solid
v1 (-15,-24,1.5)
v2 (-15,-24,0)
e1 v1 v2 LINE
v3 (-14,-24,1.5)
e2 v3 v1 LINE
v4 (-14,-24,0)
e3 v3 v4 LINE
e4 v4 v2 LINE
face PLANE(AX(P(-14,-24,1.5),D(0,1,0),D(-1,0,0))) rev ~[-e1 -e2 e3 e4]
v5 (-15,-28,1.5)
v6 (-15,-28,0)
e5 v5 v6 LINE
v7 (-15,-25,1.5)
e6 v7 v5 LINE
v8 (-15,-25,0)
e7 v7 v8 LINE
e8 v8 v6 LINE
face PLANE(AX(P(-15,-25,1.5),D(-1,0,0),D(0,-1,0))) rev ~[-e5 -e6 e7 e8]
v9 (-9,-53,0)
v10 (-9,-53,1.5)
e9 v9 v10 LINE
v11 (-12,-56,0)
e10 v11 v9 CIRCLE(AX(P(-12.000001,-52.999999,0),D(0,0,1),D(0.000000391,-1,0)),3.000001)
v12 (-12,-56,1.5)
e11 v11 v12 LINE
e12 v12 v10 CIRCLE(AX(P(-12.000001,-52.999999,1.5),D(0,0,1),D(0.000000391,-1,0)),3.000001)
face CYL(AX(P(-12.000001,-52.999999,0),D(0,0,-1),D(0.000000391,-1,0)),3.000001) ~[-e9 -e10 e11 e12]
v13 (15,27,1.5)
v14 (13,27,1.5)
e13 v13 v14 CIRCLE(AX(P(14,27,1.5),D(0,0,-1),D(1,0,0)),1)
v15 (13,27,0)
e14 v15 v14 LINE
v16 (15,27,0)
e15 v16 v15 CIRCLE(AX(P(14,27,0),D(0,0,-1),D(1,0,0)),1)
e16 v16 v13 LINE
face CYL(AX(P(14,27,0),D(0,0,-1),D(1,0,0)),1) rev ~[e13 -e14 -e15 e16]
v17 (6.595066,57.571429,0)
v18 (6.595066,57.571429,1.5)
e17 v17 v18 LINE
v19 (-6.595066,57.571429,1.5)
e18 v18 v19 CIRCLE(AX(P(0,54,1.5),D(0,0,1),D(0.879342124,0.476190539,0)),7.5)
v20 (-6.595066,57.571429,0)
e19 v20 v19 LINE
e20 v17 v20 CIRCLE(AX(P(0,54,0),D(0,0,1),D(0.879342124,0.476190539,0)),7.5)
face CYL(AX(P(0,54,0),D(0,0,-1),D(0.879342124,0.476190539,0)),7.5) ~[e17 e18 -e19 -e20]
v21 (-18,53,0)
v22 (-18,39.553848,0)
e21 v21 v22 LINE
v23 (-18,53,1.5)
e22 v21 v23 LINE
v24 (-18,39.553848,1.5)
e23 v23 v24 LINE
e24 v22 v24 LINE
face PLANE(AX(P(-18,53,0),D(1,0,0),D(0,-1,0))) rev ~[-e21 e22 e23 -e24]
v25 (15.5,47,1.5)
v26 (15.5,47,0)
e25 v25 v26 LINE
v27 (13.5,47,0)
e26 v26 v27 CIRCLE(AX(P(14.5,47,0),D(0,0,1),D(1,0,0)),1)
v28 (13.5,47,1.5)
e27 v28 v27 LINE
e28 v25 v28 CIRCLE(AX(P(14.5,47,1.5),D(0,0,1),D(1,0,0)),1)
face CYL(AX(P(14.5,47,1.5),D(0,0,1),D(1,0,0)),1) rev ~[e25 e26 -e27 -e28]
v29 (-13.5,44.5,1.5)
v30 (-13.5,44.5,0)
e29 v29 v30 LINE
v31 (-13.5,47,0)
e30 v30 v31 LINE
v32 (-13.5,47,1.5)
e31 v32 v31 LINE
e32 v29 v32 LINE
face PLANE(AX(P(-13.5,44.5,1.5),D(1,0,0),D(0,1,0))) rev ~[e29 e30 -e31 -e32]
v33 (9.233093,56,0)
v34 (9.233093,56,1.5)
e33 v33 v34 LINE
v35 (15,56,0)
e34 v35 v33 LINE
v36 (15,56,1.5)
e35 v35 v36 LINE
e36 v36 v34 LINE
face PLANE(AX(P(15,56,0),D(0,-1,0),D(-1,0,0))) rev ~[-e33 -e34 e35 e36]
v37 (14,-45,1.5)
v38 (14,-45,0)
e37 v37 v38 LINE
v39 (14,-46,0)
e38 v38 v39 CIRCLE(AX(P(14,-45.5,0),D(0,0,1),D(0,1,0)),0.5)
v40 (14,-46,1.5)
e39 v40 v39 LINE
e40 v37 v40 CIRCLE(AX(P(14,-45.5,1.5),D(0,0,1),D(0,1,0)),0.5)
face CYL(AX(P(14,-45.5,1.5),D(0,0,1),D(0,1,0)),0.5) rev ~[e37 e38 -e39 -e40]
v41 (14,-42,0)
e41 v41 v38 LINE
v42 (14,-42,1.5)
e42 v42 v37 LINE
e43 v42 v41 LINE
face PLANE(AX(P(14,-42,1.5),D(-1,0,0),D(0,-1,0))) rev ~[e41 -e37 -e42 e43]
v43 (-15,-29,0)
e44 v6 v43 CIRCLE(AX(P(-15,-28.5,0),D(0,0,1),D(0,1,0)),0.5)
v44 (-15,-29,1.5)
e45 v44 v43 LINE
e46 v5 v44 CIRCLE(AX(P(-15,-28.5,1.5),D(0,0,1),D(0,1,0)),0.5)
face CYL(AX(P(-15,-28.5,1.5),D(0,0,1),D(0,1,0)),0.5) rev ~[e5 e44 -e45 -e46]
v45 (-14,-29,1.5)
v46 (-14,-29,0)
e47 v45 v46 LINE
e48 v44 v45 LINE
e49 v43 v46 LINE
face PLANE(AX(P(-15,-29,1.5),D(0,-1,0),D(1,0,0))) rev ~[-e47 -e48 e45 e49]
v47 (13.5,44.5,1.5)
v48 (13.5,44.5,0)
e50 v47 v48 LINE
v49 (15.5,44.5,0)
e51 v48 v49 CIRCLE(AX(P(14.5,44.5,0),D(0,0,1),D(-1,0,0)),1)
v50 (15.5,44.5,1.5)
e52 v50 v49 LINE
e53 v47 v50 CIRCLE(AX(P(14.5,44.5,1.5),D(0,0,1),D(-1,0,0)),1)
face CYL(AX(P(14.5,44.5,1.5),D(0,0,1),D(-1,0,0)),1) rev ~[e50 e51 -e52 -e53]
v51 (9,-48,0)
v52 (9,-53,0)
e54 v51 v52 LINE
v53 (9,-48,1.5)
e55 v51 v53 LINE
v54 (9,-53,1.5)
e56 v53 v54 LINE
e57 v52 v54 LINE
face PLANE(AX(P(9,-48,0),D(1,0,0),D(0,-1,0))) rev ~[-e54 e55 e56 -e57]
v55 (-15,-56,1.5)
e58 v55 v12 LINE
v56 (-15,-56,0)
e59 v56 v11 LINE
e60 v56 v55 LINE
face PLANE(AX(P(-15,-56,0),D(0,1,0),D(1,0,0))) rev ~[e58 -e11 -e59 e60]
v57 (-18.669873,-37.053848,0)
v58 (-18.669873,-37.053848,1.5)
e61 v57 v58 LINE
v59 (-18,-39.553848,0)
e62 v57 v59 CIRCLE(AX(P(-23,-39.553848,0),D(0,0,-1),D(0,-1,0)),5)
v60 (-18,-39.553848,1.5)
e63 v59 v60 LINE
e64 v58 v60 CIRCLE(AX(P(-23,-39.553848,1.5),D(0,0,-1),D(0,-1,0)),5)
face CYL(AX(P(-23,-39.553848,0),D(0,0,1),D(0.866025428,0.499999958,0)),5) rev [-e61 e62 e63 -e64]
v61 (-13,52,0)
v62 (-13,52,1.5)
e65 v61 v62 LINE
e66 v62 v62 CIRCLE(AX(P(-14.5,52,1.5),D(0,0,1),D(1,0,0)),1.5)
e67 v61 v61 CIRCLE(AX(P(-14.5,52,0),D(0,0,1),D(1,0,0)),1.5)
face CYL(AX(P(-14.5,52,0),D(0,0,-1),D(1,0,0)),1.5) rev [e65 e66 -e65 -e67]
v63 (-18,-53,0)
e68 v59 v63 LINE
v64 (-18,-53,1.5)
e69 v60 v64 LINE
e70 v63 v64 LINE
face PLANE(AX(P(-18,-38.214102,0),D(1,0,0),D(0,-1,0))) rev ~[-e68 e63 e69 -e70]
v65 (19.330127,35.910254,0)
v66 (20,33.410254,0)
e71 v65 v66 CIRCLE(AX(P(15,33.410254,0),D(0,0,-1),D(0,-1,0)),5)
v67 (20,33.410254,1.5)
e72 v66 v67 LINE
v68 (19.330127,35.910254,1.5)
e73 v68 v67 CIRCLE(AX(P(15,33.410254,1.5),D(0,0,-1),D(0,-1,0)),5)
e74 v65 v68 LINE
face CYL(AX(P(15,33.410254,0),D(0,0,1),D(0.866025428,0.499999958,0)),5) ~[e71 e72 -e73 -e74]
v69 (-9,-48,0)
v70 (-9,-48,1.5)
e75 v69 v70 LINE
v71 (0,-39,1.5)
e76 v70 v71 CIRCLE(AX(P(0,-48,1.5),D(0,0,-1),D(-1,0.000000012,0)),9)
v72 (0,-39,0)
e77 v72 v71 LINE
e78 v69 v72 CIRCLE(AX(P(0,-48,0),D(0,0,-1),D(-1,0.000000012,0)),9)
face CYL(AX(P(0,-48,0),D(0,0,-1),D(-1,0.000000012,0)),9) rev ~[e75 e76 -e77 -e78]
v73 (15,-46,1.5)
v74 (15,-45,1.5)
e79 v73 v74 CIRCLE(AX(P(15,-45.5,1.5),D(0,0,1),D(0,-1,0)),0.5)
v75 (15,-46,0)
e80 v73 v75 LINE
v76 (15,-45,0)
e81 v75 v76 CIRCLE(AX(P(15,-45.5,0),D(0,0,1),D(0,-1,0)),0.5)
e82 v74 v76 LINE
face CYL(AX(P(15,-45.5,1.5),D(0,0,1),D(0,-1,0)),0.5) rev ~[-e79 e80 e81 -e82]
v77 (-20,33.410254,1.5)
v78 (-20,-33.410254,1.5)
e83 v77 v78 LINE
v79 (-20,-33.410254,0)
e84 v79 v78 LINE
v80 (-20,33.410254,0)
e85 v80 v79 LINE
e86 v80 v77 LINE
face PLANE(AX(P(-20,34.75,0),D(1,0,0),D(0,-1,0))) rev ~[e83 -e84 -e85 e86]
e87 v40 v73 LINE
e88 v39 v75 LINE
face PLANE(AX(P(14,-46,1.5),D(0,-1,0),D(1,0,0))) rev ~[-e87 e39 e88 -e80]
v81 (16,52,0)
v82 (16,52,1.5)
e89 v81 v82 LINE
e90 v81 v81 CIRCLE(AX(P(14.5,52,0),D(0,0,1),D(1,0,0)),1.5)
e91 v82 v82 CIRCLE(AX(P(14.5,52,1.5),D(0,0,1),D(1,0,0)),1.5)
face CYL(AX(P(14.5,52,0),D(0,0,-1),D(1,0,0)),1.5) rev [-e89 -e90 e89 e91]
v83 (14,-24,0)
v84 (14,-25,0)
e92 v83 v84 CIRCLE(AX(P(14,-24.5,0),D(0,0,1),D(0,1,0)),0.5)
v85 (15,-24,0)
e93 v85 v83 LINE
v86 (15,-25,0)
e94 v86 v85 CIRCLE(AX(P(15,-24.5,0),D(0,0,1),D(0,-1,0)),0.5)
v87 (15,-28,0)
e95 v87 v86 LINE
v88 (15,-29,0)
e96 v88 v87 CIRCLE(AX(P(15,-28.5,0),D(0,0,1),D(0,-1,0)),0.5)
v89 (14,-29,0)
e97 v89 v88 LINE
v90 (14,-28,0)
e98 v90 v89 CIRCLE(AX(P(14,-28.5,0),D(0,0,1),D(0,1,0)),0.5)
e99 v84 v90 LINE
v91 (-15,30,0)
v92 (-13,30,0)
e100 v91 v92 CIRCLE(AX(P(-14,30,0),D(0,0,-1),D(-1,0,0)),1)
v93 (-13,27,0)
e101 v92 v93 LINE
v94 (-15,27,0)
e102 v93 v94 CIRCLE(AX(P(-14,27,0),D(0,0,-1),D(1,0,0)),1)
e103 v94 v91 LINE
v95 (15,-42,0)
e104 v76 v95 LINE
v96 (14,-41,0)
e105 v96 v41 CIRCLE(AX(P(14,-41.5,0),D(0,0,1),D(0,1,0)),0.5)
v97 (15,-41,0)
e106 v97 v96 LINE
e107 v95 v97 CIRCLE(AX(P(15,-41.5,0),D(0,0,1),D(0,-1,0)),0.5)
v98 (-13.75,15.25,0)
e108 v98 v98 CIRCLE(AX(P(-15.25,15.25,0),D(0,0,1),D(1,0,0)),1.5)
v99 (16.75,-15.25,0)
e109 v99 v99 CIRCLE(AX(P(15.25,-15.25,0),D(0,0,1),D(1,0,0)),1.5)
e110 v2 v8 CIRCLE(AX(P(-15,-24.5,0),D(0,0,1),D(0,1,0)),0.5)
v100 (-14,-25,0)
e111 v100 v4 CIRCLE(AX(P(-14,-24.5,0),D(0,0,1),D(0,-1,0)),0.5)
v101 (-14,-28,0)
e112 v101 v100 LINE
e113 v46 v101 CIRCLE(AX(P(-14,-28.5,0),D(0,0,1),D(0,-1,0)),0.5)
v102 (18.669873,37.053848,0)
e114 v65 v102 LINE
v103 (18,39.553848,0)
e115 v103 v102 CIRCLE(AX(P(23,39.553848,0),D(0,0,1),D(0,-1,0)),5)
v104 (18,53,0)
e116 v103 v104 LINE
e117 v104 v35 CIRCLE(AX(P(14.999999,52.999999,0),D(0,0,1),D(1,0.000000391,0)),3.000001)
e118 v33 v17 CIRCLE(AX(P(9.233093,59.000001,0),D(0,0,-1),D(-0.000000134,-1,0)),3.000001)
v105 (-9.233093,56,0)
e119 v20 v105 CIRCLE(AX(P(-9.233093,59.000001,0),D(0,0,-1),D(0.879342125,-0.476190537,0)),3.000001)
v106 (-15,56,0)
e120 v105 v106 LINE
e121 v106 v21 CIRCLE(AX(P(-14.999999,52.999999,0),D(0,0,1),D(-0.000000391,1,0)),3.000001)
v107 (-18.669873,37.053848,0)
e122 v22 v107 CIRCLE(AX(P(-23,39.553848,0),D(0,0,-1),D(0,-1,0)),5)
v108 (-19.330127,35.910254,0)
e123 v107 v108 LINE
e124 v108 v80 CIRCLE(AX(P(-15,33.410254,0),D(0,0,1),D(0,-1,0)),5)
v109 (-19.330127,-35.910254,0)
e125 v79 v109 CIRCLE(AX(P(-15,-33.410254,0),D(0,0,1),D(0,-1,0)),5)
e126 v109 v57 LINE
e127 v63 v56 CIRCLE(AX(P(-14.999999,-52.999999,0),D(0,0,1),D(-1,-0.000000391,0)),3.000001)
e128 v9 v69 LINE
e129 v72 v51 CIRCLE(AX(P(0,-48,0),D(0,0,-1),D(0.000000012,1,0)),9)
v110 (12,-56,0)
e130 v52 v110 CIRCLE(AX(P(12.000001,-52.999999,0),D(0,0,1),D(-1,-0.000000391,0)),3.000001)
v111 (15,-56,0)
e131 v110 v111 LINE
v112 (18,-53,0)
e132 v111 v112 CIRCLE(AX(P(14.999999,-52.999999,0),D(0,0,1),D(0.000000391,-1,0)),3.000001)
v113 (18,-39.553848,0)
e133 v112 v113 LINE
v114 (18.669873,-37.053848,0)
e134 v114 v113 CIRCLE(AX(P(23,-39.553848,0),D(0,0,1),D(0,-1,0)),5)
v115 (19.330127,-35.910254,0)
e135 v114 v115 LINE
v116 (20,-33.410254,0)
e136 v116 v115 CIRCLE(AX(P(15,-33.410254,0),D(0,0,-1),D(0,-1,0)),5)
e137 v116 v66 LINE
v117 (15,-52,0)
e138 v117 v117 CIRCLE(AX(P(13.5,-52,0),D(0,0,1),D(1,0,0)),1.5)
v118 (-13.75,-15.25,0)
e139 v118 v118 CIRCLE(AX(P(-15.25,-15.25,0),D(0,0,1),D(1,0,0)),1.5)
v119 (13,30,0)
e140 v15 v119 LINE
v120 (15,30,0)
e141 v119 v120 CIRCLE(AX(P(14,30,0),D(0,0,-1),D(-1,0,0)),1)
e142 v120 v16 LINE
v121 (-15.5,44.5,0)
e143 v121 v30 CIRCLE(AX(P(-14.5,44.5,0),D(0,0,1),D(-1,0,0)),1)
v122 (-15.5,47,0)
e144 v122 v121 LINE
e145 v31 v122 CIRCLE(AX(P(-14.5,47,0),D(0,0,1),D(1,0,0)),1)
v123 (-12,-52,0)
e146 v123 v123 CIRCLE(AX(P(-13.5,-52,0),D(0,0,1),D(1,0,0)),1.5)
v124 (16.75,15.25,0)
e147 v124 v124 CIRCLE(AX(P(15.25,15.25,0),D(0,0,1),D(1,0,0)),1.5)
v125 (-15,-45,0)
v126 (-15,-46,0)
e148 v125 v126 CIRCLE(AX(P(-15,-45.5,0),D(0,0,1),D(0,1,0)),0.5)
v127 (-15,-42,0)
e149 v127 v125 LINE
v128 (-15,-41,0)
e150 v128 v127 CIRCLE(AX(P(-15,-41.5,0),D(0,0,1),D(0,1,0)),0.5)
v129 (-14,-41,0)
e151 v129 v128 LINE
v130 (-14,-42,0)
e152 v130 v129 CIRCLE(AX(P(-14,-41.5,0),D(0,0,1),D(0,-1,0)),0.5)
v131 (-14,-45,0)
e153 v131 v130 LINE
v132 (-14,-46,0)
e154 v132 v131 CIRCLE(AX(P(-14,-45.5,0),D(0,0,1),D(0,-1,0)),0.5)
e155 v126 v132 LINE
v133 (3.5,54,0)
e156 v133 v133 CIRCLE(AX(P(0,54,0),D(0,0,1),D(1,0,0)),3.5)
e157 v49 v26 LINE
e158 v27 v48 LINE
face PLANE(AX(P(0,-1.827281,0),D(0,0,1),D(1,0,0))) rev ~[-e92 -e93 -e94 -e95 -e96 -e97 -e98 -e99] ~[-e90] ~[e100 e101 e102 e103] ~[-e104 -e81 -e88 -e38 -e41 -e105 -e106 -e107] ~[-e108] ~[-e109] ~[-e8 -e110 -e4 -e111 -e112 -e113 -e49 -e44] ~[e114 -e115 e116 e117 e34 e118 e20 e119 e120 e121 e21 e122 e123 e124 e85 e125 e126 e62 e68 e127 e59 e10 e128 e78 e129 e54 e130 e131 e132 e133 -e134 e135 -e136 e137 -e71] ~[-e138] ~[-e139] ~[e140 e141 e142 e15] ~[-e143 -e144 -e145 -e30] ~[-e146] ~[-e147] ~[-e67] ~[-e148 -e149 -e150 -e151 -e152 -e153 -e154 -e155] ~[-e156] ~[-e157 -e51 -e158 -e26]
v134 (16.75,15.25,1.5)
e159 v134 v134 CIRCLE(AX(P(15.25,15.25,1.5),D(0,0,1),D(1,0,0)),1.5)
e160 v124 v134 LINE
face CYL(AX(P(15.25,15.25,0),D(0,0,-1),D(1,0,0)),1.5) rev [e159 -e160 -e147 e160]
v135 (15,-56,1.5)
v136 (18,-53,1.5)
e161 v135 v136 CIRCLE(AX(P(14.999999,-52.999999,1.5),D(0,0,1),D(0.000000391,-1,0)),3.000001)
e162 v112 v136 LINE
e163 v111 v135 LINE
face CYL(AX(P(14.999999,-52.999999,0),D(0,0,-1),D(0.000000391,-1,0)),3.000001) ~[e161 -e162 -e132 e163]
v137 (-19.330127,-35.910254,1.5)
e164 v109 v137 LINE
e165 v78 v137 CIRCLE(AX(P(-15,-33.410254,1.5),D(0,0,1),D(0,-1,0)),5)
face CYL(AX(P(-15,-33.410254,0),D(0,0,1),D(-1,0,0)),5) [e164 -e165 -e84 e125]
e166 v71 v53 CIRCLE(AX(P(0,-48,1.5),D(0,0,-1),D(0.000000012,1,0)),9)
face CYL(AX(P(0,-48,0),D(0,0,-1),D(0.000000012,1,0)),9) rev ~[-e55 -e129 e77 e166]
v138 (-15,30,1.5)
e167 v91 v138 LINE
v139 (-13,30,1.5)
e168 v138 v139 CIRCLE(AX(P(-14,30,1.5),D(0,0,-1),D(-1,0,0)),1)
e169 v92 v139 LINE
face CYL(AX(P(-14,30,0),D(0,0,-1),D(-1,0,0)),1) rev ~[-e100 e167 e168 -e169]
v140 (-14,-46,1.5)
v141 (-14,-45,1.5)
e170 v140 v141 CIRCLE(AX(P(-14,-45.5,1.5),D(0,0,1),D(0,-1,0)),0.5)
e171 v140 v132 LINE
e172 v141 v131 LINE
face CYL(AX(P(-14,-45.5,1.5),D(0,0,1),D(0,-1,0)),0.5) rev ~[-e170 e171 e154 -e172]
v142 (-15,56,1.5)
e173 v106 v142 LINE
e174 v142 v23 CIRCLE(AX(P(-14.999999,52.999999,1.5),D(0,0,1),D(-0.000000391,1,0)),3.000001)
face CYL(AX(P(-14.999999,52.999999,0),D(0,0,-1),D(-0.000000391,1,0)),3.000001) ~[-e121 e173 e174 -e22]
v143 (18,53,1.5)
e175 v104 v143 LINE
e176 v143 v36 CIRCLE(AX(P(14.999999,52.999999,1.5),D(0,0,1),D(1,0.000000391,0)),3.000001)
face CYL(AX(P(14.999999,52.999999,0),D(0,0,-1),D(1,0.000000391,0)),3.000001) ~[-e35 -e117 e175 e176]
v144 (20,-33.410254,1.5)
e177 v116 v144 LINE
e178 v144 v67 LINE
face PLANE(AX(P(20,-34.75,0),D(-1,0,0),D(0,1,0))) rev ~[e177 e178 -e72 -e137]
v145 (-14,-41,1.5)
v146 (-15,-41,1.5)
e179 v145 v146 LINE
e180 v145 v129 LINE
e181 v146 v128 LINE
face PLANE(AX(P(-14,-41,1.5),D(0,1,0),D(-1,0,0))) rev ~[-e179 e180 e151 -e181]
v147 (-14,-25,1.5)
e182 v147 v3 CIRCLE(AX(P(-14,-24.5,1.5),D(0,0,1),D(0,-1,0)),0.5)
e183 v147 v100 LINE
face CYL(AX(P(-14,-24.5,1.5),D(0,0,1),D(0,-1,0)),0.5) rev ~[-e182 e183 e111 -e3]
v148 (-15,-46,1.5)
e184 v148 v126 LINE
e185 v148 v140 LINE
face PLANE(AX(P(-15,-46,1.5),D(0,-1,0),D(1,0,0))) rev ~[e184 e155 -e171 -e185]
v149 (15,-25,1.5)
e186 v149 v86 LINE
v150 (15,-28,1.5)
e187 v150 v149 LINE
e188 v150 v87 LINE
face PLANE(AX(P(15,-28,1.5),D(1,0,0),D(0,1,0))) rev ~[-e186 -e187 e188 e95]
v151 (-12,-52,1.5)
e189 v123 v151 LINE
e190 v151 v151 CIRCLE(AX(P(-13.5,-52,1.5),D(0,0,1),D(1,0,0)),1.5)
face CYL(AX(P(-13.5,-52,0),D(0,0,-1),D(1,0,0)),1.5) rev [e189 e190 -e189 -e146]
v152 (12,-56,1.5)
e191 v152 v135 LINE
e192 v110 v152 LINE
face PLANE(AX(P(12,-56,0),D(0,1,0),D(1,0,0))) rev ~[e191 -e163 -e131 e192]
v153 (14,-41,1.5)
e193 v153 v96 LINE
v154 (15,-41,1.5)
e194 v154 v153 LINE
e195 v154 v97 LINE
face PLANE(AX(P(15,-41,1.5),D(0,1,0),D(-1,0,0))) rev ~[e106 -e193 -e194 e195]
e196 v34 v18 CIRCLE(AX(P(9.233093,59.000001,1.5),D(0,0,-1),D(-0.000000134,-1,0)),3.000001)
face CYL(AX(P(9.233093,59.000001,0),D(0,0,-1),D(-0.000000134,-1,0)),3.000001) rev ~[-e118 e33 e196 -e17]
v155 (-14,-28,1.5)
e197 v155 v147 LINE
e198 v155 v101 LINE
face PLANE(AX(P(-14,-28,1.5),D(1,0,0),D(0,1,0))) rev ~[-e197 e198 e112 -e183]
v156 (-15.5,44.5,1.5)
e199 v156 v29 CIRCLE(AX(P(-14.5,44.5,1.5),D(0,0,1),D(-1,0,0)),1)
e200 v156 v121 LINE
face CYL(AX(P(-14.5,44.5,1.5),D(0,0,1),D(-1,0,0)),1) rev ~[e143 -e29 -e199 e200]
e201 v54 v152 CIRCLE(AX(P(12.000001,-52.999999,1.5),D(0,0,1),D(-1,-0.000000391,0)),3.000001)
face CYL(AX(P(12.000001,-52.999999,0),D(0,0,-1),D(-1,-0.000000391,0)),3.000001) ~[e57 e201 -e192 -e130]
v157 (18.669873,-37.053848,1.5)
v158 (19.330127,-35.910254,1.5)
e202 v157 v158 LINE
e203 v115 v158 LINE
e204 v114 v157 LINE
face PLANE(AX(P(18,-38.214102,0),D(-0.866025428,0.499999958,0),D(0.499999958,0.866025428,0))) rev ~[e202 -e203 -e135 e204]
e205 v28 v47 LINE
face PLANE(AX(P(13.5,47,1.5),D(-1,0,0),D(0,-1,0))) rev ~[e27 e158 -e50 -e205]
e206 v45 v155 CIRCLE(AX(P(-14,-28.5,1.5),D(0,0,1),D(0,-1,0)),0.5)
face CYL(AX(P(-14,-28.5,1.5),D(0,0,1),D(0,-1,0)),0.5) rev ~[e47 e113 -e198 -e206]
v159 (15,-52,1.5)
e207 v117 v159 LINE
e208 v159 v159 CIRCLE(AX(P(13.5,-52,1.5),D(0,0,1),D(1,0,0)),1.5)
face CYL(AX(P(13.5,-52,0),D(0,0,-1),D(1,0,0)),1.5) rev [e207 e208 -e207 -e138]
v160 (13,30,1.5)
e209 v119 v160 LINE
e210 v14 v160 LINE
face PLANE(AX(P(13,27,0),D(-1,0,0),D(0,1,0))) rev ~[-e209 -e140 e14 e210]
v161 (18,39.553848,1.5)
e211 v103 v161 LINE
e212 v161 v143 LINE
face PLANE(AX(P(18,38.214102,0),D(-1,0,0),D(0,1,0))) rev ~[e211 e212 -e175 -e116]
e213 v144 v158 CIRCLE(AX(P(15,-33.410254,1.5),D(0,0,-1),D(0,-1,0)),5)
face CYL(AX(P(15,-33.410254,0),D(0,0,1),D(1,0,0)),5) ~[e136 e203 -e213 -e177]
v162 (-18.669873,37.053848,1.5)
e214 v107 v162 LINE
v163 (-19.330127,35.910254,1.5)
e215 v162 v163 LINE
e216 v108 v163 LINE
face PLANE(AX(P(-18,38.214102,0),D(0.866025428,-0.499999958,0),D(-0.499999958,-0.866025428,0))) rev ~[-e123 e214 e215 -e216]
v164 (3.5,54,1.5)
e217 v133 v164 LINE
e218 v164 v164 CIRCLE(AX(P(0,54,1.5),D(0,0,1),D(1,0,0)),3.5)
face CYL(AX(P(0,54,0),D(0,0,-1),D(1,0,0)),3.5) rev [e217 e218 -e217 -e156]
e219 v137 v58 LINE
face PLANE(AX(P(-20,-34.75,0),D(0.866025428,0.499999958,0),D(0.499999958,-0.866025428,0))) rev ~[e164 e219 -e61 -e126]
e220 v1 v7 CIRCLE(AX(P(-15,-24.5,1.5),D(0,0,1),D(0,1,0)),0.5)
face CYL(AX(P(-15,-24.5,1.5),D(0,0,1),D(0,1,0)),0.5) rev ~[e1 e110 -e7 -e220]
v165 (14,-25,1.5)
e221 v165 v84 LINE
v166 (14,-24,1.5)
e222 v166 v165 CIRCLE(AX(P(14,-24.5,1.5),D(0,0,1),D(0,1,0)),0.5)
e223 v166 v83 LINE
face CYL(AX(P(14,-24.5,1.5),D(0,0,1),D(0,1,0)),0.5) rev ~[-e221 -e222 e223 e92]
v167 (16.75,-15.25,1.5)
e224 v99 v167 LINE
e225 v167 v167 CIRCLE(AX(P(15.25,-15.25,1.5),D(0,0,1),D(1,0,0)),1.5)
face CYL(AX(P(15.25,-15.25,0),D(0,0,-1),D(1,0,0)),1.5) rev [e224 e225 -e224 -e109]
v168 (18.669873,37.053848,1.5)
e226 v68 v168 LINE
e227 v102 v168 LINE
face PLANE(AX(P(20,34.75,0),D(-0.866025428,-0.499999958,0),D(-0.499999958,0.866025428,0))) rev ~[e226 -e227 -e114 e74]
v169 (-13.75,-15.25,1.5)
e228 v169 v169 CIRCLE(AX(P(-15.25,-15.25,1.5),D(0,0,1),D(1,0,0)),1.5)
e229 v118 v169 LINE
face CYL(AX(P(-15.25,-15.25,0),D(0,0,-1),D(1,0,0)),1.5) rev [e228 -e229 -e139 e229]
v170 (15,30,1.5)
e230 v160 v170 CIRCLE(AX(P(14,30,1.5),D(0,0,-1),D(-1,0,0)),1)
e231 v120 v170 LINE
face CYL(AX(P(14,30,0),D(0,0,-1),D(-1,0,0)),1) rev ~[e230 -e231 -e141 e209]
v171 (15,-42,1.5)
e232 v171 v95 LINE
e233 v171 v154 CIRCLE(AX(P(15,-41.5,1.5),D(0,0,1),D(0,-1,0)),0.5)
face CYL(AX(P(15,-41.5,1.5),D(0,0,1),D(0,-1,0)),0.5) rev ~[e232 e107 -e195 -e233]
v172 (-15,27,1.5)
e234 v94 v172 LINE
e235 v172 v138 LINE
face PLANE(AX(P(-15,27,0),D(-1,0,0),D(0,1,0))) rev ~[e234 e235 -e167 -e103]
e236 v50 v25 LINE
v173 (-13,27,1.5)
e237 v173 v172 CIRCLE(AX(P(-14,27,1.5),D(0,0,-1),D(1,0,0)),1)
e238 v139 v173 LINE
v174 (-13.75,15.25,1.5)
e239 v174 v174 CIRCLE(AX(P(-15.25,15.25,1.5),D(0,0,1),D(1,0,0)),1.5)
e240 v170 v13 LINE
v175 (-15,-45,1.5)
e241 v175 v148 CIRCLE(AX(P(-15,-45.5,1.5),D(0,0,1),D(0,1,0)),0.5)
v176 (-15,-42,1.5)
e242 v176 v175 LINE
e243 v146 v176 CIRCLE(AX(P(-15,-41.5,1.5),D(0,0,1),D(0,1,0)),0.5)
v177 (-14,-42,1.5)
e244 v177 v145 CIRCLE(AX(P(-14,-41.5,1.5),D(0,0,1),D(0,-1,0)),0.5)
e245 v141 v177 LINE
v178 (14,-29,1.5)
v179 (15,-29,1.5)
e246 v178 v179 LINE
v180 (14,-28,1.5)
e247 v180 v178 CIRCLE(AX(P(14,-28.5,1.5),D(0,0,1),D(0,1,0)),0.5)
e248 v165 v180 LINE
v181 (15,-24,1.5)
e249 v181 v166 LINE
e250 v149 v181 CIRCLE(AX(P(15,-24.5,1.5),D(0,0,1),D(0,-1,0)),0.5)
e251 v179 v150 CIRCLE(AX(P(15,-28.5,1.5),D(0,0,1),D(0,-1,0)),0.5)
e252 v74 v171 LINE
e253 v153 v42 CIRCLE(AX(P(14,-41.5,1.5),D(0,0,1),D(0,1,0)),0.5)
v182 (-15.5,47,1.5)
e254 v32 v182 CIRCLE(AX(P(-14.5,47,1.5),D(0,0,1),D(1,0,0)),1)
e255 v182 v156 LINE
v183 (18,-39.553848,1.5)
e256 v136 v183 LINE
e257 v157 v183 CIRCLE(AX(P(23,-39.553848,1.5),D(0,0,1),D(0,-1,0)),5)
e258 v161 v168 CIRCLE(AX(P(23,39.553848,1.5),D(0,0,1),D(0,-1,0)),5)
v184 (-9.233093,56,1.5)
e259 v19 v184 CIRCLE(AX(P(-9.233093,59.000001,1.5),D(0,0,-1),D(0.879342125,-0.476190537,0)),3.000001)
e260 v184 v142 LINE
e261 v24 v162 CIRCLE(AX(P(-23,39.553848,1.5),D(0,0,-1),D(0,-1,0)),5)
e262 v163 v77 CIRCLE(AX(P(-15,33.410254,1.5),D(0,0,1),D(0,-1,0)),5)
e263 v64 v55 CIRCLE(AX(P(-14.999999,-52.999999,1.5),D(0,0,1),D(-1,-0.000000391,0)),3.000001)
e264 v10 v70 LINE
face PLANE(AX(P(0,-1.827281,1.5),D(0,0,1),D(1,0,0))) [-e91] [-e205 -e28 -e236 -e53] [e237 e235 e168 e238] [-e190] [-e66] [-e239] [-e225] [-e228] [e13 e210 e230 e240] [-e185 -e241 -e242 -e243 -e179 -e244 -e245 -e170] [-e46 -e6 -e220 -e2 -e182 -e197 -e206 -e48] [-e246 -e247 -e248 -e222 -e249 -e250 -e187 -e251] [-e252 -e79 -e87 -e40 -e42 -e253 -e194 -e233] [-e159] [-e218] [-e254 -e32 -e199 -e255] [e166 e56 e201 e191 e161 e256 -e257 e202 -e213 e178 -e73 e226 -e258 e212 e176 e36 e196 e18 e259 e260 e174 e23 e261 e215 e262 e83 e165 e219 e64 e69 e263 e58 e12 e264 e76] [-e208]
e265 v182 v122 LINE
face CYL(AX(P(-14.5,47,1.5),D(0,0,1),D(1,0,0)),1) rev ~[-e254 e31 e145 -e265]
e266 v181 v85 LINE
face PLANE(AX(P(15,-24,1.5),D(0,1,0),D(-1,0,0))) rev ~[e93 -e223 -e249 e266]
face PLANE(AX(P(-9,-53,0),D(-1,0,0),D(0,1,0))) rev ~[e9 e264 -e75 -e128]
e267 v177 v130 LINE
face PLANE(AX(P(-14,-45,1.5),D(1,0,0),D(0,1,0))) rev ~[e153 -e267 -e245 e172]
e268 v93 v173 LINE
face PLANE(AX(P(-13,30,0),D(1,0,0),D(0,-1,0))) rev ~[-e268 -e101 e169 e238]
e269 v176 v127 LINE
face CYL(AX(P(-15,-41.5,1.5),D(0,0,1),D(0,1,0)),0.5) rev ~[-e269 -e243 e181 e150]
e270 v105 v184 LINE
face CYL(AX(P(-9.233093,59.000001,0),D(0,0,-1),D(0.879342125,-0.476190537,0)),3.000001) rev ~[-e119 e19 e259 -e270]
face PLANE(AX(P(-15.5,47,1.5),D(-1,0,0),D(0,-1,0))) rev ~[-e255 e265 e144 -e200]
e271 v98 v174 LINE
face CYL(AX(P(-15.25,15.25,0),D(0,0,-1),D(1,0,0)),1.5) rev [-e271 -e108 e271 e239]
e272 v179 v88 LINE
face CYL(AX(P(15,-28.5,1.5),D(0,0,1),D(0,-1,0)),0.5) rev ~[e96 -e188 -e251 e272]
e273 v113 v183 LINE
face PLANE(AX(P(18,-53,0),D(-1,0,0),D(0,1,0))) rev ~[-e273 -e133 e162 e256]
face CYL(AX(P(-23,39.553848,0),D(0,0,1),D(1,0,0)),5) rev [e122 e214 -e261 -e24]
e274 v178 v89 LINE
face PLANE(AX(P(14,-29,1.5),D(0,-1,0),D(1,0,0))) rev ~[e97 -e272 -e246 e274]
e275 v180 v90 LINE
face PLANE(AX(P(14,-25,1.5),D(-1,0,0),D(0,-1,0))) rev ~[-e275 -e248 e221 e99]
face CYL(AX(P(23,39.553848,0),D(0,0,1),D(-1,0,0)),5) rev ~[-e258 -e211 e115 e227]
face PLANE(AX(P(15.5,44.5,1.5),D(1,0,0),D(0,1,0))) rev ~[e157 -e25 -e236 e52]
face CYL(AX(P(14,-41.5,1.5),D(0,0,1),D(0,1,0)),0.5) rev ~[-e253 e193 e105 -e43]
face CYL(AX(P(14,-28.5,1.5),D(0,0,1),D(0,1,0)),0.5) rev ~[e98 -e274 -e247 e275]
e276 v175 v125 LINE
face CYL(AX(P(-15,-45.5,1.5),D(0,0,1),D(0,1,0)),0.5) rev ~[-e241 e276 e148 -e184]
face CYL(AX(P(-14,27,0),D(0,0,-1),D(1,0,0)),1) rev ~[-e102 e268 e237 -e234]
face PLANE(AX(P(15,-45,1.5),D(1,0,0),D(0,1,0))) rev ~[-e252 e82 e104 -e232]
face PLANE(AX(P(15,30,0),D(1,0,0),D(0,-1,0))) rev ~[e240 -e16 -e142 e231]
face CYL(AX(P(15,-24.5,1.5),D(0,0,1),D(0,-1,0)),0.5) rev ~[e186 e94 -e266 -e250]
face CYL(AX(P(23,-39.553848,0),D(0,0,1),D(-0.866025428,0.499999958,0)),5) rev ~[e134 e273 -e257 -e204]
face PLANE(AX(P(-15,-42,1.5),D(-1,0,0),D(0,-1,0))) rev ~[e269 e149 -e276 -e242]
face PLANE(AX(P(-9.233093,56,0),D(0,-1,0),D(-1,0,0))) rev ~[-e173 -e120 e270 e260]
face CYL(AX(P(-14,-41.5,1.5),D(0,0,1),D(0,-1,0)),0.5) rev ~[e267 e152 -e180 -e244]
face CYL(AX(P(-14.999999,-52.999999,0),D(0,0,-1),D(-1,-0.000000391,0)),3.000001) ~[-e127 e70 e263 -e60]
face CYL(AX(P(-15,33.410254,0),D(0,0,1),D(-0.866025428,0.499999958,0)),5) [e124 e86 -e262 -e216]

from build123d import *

# Parameters (mm, degrees)
F0_R     = 1.5
F0_R_2   = 3.5
F1_DEPTH = 1.5
F3_DEPTH = 1.501
F5_DEPTH = 1.501
F6_R     = 5


with BuildPart() as f1:
    # F0 (on Top) → F1 (new body)
    with BuildSketch(Plane.XY):
        with BuildLine():
            Line((-9.233093, 56), (-15, 56))
            ThreePointArc((-15, 56), (-17.12132, 55.12132), (-18, 53))
            Line((-18, 53), (-18, 38.214102))
            Line((-18, 38.214102), (-20, 34.75))
            Line((-20, 34.75), (-20, -34.75))
            Line((-20, -34.75), (-18, -38.214102))
            Line((-18, -38.214102), (-18, -53))
            ThreePointArc((-18, -53), (-17.12132, -55.12132), (-15, -56))
            Line((-15, -56), (-12, -56))
            ThreePointArc((-12, -56), (-9.87868, -55.12132), (-9, -53))
            Line((-9, -53), (-9, -48))
            ThreePointArc((-9, -48), (-6.363961, -41.636039), (0, -39))
            ThreePointArc((0, -39), (6.363961, -41.636039), (9, -48))
            Line((9, -48), (9, -53))
            ThreePointArc((9, -53), (9.87868, -55.12132), (12, -56))
            Line((12, -56), (15, -56))
            ThreePointArc((15, -56), (17.12132, -55.12132), (18, -53))
            Line((18, -53), (18, -38.214102))
            Line((18, -38.214102), (20, -34.75))
            Line((20, -34.75), (20, 34.75))
            Line((20, 34.75), (18, 38.214102))
            Line((18, 38.214102), (18, 53))
            ThreePointArc((18, 53), (17.12132, 55.12132), (15, 56))
            Line((15, 56), (9.233093, 56))
            ThreePointArc((9.233093, 56), (7.697794, 56.422626), (6.595066, 57.571429))
            ThreePointArc((6.595066, 57.571429), (0, 61.5), (-6.595066, 57.571429))
            ThreePointArc((-6.595066, 57.571429), (-7.697794, 56.422626), (-9.233093, 56))
        make_face()
        with Locations((-13.5, -52)):
            Circle(F0_R, mode=Mode.SUBTRACT)
        with Locations((-15.25, -15.25)):
            Circle(F0_R, mode=Mode.SUBTRACT)
        with Locations((13.5, -52)):
            Circle(F0_R, mode=Mode.SUBTRACT)
        with Locations((15.25, -15.25)):
            Circle(F0_R, mode=Mode.SUBTRACT)
        with Locations((-15.25, 15.25)):
            Circle(F0_R, mode=Mode.SUBTRACT)
        with BuildLine():
            Line((-15, 27), (-15, 30))
            ThreePointArc((-15, 30), (-14, 31), (-13, 30))
            Line((-13, 30), (-13, 27))
            ThreePointArc((-13, 27), (-14, 26), (-15, 27))
        make_face(mode=Mode.SUBTRACT)
        with Locations((-14.5, 52)):
            Circle(F0_R, mode=Mode.SUBTRACT)
        with Locations((15.25, 15.25)):
            Circle(F0_R, mode=Mode.SUBTRACT)
        with BuildLine():
            Line((13, 27), (13, 30))
            ThreePointArc((13, 30), (14, 31), (15, 30))
            Line((15, 30), (15, 27))
            ThreePointArc((15, 27), (14, 26), (13, 27))
        make_face(mode=Mode.SUBTRACT)
        with Locations((0, 54)):
            Circle(F0_R_2, mode=Mode.SUBTRACT)
        with Locations((14.5, 52)):
            Circle(F0_R, mode=Mode.SUBTRACT)
    extrude(amount=F1_DEPTH)

    # F2 (on face) → F3 (cut, through all)
    with BuildSketch(Plane.XY.offset(1.5)):
        with BuildLine():
            Line((-14, -41), (-15, -41))
            ThreePointArc((-15, -41), (-15.5, -41.5), (-15, -42))
            Line((-15, -42), (-15, -45))
            ThreePointArc((-15, -45), (-15.5, -45.5), (-15, -46))
            Line((-15, -46), (-14, -46))
            ThreePointArc((-14, -46), (-13.5, -45.5), (-14, -45))
            Line((-14, -45), (-14, -42))
            ThreePointArc((-14, -42), (-13.5, -41.5), (-14, -41))
        make_face()
        with BuildLine():
            Line((-14, -24), (-15, -24))
            ThreePointArc((-15, -24), (-15.5, -24.5), (-15, -25))
            Line((-15, -25), (-15, -28))
            ThreePointArc((-15, -28), (-15.5, -28.5), (-15, -29))
            Line((-15, -29), (-14, -29))
            ThreePointArc((-14, -29), (-13.5, -28.5), (-14, -28))
            Line((-14, -28), (-14, -25))
            ThreePointArc((-14, -25), (-13.5, -24.5), (-14, -24))
        make_face()
        with BuildLine():
            ThreePointArc((15, -29), (15.5, -28.5), (15, -28))
            Line((15, -28), (15, -25))
            ThreePointArc((15, -25), (15.5, -24.5), (15, -24))
            Line((15, -24), (14, -24))
            ThreePointArc((14, -24), (13.5, -24.5), (14, -25))
            Line((14, -25), (14, -28))
            ThreePointArc((14, -28), (13.5, -28.5), (14, -29))
            Line((14, -29), (15, -29))
        make_face()
        with BuildLine():
            Line((14, -46), (15, -46))
            ThreePointArc((15, -46), (15.5, -45.5), (15, -45))
            Line((15, -45), (15, -42))
            ThreePointArc((15, -42), (15.5, -41.5), (15, -41))
            Line((15, -41), (14, -41))
            ThreePointArc((14, -41), (13.5, -41.5), (14, -42))
            Line((14, -42), (14, -45))
            ThreePointArc((14, -45), (13.5, -45.5), (14, -46))
        make_face()
    extrude(amount=-F3_DEPTH, mode=Mode.SUBTRACT)

    # F4 (on face) → F5 (cut, through all)
    with BuildSketch(Plane.XY.offset(1.5)):
        with BuildLine():
            Line((-13.5, 44.5), (-13.5, 47))
            ThreePointArc((-13.5, 47), (-14.5, 48), (-15.5, 47))
            Line((-15.5, 47), (-15.5, 44.5))
            ThreePointArc((-15.5, 44.5), (-14.5, 43.5), (-13.5, 44.5))
        make_face()
        with BuildLine():
            ThreePointArc((15.5, 47), (14.5, 48), (13.5, 47))
            Line((13.5, 47), (13.5, 44.5))
            ThreePointArc((13.5, 44.5), (14.5, 43.5), (15.5, 44.5))
            Line((15.5, 44.5), (15.5, 47))
        make_face()
    extrude(amount=-F5_DEPTH, mode=Mode.SUBTRACT)

    # F6
    f6_edges = [f1.edges().sort_by_distance(p)[0] for p in [
        (-20, 34.75, 0.75),
        (20, 34.75, 0.75),
        (20, -34.75, 0.75),
        (-20, -34.75, 0.75),
        (-18, -38.214102, 0.75),
        (18, -38.214102, 0.75),
        (18, 38.214102, 0.75),
        (-18, 38.214102, 0.75),
    ]]
    fillet(f6_edges, radius=F6_R)


solid = f1.part
